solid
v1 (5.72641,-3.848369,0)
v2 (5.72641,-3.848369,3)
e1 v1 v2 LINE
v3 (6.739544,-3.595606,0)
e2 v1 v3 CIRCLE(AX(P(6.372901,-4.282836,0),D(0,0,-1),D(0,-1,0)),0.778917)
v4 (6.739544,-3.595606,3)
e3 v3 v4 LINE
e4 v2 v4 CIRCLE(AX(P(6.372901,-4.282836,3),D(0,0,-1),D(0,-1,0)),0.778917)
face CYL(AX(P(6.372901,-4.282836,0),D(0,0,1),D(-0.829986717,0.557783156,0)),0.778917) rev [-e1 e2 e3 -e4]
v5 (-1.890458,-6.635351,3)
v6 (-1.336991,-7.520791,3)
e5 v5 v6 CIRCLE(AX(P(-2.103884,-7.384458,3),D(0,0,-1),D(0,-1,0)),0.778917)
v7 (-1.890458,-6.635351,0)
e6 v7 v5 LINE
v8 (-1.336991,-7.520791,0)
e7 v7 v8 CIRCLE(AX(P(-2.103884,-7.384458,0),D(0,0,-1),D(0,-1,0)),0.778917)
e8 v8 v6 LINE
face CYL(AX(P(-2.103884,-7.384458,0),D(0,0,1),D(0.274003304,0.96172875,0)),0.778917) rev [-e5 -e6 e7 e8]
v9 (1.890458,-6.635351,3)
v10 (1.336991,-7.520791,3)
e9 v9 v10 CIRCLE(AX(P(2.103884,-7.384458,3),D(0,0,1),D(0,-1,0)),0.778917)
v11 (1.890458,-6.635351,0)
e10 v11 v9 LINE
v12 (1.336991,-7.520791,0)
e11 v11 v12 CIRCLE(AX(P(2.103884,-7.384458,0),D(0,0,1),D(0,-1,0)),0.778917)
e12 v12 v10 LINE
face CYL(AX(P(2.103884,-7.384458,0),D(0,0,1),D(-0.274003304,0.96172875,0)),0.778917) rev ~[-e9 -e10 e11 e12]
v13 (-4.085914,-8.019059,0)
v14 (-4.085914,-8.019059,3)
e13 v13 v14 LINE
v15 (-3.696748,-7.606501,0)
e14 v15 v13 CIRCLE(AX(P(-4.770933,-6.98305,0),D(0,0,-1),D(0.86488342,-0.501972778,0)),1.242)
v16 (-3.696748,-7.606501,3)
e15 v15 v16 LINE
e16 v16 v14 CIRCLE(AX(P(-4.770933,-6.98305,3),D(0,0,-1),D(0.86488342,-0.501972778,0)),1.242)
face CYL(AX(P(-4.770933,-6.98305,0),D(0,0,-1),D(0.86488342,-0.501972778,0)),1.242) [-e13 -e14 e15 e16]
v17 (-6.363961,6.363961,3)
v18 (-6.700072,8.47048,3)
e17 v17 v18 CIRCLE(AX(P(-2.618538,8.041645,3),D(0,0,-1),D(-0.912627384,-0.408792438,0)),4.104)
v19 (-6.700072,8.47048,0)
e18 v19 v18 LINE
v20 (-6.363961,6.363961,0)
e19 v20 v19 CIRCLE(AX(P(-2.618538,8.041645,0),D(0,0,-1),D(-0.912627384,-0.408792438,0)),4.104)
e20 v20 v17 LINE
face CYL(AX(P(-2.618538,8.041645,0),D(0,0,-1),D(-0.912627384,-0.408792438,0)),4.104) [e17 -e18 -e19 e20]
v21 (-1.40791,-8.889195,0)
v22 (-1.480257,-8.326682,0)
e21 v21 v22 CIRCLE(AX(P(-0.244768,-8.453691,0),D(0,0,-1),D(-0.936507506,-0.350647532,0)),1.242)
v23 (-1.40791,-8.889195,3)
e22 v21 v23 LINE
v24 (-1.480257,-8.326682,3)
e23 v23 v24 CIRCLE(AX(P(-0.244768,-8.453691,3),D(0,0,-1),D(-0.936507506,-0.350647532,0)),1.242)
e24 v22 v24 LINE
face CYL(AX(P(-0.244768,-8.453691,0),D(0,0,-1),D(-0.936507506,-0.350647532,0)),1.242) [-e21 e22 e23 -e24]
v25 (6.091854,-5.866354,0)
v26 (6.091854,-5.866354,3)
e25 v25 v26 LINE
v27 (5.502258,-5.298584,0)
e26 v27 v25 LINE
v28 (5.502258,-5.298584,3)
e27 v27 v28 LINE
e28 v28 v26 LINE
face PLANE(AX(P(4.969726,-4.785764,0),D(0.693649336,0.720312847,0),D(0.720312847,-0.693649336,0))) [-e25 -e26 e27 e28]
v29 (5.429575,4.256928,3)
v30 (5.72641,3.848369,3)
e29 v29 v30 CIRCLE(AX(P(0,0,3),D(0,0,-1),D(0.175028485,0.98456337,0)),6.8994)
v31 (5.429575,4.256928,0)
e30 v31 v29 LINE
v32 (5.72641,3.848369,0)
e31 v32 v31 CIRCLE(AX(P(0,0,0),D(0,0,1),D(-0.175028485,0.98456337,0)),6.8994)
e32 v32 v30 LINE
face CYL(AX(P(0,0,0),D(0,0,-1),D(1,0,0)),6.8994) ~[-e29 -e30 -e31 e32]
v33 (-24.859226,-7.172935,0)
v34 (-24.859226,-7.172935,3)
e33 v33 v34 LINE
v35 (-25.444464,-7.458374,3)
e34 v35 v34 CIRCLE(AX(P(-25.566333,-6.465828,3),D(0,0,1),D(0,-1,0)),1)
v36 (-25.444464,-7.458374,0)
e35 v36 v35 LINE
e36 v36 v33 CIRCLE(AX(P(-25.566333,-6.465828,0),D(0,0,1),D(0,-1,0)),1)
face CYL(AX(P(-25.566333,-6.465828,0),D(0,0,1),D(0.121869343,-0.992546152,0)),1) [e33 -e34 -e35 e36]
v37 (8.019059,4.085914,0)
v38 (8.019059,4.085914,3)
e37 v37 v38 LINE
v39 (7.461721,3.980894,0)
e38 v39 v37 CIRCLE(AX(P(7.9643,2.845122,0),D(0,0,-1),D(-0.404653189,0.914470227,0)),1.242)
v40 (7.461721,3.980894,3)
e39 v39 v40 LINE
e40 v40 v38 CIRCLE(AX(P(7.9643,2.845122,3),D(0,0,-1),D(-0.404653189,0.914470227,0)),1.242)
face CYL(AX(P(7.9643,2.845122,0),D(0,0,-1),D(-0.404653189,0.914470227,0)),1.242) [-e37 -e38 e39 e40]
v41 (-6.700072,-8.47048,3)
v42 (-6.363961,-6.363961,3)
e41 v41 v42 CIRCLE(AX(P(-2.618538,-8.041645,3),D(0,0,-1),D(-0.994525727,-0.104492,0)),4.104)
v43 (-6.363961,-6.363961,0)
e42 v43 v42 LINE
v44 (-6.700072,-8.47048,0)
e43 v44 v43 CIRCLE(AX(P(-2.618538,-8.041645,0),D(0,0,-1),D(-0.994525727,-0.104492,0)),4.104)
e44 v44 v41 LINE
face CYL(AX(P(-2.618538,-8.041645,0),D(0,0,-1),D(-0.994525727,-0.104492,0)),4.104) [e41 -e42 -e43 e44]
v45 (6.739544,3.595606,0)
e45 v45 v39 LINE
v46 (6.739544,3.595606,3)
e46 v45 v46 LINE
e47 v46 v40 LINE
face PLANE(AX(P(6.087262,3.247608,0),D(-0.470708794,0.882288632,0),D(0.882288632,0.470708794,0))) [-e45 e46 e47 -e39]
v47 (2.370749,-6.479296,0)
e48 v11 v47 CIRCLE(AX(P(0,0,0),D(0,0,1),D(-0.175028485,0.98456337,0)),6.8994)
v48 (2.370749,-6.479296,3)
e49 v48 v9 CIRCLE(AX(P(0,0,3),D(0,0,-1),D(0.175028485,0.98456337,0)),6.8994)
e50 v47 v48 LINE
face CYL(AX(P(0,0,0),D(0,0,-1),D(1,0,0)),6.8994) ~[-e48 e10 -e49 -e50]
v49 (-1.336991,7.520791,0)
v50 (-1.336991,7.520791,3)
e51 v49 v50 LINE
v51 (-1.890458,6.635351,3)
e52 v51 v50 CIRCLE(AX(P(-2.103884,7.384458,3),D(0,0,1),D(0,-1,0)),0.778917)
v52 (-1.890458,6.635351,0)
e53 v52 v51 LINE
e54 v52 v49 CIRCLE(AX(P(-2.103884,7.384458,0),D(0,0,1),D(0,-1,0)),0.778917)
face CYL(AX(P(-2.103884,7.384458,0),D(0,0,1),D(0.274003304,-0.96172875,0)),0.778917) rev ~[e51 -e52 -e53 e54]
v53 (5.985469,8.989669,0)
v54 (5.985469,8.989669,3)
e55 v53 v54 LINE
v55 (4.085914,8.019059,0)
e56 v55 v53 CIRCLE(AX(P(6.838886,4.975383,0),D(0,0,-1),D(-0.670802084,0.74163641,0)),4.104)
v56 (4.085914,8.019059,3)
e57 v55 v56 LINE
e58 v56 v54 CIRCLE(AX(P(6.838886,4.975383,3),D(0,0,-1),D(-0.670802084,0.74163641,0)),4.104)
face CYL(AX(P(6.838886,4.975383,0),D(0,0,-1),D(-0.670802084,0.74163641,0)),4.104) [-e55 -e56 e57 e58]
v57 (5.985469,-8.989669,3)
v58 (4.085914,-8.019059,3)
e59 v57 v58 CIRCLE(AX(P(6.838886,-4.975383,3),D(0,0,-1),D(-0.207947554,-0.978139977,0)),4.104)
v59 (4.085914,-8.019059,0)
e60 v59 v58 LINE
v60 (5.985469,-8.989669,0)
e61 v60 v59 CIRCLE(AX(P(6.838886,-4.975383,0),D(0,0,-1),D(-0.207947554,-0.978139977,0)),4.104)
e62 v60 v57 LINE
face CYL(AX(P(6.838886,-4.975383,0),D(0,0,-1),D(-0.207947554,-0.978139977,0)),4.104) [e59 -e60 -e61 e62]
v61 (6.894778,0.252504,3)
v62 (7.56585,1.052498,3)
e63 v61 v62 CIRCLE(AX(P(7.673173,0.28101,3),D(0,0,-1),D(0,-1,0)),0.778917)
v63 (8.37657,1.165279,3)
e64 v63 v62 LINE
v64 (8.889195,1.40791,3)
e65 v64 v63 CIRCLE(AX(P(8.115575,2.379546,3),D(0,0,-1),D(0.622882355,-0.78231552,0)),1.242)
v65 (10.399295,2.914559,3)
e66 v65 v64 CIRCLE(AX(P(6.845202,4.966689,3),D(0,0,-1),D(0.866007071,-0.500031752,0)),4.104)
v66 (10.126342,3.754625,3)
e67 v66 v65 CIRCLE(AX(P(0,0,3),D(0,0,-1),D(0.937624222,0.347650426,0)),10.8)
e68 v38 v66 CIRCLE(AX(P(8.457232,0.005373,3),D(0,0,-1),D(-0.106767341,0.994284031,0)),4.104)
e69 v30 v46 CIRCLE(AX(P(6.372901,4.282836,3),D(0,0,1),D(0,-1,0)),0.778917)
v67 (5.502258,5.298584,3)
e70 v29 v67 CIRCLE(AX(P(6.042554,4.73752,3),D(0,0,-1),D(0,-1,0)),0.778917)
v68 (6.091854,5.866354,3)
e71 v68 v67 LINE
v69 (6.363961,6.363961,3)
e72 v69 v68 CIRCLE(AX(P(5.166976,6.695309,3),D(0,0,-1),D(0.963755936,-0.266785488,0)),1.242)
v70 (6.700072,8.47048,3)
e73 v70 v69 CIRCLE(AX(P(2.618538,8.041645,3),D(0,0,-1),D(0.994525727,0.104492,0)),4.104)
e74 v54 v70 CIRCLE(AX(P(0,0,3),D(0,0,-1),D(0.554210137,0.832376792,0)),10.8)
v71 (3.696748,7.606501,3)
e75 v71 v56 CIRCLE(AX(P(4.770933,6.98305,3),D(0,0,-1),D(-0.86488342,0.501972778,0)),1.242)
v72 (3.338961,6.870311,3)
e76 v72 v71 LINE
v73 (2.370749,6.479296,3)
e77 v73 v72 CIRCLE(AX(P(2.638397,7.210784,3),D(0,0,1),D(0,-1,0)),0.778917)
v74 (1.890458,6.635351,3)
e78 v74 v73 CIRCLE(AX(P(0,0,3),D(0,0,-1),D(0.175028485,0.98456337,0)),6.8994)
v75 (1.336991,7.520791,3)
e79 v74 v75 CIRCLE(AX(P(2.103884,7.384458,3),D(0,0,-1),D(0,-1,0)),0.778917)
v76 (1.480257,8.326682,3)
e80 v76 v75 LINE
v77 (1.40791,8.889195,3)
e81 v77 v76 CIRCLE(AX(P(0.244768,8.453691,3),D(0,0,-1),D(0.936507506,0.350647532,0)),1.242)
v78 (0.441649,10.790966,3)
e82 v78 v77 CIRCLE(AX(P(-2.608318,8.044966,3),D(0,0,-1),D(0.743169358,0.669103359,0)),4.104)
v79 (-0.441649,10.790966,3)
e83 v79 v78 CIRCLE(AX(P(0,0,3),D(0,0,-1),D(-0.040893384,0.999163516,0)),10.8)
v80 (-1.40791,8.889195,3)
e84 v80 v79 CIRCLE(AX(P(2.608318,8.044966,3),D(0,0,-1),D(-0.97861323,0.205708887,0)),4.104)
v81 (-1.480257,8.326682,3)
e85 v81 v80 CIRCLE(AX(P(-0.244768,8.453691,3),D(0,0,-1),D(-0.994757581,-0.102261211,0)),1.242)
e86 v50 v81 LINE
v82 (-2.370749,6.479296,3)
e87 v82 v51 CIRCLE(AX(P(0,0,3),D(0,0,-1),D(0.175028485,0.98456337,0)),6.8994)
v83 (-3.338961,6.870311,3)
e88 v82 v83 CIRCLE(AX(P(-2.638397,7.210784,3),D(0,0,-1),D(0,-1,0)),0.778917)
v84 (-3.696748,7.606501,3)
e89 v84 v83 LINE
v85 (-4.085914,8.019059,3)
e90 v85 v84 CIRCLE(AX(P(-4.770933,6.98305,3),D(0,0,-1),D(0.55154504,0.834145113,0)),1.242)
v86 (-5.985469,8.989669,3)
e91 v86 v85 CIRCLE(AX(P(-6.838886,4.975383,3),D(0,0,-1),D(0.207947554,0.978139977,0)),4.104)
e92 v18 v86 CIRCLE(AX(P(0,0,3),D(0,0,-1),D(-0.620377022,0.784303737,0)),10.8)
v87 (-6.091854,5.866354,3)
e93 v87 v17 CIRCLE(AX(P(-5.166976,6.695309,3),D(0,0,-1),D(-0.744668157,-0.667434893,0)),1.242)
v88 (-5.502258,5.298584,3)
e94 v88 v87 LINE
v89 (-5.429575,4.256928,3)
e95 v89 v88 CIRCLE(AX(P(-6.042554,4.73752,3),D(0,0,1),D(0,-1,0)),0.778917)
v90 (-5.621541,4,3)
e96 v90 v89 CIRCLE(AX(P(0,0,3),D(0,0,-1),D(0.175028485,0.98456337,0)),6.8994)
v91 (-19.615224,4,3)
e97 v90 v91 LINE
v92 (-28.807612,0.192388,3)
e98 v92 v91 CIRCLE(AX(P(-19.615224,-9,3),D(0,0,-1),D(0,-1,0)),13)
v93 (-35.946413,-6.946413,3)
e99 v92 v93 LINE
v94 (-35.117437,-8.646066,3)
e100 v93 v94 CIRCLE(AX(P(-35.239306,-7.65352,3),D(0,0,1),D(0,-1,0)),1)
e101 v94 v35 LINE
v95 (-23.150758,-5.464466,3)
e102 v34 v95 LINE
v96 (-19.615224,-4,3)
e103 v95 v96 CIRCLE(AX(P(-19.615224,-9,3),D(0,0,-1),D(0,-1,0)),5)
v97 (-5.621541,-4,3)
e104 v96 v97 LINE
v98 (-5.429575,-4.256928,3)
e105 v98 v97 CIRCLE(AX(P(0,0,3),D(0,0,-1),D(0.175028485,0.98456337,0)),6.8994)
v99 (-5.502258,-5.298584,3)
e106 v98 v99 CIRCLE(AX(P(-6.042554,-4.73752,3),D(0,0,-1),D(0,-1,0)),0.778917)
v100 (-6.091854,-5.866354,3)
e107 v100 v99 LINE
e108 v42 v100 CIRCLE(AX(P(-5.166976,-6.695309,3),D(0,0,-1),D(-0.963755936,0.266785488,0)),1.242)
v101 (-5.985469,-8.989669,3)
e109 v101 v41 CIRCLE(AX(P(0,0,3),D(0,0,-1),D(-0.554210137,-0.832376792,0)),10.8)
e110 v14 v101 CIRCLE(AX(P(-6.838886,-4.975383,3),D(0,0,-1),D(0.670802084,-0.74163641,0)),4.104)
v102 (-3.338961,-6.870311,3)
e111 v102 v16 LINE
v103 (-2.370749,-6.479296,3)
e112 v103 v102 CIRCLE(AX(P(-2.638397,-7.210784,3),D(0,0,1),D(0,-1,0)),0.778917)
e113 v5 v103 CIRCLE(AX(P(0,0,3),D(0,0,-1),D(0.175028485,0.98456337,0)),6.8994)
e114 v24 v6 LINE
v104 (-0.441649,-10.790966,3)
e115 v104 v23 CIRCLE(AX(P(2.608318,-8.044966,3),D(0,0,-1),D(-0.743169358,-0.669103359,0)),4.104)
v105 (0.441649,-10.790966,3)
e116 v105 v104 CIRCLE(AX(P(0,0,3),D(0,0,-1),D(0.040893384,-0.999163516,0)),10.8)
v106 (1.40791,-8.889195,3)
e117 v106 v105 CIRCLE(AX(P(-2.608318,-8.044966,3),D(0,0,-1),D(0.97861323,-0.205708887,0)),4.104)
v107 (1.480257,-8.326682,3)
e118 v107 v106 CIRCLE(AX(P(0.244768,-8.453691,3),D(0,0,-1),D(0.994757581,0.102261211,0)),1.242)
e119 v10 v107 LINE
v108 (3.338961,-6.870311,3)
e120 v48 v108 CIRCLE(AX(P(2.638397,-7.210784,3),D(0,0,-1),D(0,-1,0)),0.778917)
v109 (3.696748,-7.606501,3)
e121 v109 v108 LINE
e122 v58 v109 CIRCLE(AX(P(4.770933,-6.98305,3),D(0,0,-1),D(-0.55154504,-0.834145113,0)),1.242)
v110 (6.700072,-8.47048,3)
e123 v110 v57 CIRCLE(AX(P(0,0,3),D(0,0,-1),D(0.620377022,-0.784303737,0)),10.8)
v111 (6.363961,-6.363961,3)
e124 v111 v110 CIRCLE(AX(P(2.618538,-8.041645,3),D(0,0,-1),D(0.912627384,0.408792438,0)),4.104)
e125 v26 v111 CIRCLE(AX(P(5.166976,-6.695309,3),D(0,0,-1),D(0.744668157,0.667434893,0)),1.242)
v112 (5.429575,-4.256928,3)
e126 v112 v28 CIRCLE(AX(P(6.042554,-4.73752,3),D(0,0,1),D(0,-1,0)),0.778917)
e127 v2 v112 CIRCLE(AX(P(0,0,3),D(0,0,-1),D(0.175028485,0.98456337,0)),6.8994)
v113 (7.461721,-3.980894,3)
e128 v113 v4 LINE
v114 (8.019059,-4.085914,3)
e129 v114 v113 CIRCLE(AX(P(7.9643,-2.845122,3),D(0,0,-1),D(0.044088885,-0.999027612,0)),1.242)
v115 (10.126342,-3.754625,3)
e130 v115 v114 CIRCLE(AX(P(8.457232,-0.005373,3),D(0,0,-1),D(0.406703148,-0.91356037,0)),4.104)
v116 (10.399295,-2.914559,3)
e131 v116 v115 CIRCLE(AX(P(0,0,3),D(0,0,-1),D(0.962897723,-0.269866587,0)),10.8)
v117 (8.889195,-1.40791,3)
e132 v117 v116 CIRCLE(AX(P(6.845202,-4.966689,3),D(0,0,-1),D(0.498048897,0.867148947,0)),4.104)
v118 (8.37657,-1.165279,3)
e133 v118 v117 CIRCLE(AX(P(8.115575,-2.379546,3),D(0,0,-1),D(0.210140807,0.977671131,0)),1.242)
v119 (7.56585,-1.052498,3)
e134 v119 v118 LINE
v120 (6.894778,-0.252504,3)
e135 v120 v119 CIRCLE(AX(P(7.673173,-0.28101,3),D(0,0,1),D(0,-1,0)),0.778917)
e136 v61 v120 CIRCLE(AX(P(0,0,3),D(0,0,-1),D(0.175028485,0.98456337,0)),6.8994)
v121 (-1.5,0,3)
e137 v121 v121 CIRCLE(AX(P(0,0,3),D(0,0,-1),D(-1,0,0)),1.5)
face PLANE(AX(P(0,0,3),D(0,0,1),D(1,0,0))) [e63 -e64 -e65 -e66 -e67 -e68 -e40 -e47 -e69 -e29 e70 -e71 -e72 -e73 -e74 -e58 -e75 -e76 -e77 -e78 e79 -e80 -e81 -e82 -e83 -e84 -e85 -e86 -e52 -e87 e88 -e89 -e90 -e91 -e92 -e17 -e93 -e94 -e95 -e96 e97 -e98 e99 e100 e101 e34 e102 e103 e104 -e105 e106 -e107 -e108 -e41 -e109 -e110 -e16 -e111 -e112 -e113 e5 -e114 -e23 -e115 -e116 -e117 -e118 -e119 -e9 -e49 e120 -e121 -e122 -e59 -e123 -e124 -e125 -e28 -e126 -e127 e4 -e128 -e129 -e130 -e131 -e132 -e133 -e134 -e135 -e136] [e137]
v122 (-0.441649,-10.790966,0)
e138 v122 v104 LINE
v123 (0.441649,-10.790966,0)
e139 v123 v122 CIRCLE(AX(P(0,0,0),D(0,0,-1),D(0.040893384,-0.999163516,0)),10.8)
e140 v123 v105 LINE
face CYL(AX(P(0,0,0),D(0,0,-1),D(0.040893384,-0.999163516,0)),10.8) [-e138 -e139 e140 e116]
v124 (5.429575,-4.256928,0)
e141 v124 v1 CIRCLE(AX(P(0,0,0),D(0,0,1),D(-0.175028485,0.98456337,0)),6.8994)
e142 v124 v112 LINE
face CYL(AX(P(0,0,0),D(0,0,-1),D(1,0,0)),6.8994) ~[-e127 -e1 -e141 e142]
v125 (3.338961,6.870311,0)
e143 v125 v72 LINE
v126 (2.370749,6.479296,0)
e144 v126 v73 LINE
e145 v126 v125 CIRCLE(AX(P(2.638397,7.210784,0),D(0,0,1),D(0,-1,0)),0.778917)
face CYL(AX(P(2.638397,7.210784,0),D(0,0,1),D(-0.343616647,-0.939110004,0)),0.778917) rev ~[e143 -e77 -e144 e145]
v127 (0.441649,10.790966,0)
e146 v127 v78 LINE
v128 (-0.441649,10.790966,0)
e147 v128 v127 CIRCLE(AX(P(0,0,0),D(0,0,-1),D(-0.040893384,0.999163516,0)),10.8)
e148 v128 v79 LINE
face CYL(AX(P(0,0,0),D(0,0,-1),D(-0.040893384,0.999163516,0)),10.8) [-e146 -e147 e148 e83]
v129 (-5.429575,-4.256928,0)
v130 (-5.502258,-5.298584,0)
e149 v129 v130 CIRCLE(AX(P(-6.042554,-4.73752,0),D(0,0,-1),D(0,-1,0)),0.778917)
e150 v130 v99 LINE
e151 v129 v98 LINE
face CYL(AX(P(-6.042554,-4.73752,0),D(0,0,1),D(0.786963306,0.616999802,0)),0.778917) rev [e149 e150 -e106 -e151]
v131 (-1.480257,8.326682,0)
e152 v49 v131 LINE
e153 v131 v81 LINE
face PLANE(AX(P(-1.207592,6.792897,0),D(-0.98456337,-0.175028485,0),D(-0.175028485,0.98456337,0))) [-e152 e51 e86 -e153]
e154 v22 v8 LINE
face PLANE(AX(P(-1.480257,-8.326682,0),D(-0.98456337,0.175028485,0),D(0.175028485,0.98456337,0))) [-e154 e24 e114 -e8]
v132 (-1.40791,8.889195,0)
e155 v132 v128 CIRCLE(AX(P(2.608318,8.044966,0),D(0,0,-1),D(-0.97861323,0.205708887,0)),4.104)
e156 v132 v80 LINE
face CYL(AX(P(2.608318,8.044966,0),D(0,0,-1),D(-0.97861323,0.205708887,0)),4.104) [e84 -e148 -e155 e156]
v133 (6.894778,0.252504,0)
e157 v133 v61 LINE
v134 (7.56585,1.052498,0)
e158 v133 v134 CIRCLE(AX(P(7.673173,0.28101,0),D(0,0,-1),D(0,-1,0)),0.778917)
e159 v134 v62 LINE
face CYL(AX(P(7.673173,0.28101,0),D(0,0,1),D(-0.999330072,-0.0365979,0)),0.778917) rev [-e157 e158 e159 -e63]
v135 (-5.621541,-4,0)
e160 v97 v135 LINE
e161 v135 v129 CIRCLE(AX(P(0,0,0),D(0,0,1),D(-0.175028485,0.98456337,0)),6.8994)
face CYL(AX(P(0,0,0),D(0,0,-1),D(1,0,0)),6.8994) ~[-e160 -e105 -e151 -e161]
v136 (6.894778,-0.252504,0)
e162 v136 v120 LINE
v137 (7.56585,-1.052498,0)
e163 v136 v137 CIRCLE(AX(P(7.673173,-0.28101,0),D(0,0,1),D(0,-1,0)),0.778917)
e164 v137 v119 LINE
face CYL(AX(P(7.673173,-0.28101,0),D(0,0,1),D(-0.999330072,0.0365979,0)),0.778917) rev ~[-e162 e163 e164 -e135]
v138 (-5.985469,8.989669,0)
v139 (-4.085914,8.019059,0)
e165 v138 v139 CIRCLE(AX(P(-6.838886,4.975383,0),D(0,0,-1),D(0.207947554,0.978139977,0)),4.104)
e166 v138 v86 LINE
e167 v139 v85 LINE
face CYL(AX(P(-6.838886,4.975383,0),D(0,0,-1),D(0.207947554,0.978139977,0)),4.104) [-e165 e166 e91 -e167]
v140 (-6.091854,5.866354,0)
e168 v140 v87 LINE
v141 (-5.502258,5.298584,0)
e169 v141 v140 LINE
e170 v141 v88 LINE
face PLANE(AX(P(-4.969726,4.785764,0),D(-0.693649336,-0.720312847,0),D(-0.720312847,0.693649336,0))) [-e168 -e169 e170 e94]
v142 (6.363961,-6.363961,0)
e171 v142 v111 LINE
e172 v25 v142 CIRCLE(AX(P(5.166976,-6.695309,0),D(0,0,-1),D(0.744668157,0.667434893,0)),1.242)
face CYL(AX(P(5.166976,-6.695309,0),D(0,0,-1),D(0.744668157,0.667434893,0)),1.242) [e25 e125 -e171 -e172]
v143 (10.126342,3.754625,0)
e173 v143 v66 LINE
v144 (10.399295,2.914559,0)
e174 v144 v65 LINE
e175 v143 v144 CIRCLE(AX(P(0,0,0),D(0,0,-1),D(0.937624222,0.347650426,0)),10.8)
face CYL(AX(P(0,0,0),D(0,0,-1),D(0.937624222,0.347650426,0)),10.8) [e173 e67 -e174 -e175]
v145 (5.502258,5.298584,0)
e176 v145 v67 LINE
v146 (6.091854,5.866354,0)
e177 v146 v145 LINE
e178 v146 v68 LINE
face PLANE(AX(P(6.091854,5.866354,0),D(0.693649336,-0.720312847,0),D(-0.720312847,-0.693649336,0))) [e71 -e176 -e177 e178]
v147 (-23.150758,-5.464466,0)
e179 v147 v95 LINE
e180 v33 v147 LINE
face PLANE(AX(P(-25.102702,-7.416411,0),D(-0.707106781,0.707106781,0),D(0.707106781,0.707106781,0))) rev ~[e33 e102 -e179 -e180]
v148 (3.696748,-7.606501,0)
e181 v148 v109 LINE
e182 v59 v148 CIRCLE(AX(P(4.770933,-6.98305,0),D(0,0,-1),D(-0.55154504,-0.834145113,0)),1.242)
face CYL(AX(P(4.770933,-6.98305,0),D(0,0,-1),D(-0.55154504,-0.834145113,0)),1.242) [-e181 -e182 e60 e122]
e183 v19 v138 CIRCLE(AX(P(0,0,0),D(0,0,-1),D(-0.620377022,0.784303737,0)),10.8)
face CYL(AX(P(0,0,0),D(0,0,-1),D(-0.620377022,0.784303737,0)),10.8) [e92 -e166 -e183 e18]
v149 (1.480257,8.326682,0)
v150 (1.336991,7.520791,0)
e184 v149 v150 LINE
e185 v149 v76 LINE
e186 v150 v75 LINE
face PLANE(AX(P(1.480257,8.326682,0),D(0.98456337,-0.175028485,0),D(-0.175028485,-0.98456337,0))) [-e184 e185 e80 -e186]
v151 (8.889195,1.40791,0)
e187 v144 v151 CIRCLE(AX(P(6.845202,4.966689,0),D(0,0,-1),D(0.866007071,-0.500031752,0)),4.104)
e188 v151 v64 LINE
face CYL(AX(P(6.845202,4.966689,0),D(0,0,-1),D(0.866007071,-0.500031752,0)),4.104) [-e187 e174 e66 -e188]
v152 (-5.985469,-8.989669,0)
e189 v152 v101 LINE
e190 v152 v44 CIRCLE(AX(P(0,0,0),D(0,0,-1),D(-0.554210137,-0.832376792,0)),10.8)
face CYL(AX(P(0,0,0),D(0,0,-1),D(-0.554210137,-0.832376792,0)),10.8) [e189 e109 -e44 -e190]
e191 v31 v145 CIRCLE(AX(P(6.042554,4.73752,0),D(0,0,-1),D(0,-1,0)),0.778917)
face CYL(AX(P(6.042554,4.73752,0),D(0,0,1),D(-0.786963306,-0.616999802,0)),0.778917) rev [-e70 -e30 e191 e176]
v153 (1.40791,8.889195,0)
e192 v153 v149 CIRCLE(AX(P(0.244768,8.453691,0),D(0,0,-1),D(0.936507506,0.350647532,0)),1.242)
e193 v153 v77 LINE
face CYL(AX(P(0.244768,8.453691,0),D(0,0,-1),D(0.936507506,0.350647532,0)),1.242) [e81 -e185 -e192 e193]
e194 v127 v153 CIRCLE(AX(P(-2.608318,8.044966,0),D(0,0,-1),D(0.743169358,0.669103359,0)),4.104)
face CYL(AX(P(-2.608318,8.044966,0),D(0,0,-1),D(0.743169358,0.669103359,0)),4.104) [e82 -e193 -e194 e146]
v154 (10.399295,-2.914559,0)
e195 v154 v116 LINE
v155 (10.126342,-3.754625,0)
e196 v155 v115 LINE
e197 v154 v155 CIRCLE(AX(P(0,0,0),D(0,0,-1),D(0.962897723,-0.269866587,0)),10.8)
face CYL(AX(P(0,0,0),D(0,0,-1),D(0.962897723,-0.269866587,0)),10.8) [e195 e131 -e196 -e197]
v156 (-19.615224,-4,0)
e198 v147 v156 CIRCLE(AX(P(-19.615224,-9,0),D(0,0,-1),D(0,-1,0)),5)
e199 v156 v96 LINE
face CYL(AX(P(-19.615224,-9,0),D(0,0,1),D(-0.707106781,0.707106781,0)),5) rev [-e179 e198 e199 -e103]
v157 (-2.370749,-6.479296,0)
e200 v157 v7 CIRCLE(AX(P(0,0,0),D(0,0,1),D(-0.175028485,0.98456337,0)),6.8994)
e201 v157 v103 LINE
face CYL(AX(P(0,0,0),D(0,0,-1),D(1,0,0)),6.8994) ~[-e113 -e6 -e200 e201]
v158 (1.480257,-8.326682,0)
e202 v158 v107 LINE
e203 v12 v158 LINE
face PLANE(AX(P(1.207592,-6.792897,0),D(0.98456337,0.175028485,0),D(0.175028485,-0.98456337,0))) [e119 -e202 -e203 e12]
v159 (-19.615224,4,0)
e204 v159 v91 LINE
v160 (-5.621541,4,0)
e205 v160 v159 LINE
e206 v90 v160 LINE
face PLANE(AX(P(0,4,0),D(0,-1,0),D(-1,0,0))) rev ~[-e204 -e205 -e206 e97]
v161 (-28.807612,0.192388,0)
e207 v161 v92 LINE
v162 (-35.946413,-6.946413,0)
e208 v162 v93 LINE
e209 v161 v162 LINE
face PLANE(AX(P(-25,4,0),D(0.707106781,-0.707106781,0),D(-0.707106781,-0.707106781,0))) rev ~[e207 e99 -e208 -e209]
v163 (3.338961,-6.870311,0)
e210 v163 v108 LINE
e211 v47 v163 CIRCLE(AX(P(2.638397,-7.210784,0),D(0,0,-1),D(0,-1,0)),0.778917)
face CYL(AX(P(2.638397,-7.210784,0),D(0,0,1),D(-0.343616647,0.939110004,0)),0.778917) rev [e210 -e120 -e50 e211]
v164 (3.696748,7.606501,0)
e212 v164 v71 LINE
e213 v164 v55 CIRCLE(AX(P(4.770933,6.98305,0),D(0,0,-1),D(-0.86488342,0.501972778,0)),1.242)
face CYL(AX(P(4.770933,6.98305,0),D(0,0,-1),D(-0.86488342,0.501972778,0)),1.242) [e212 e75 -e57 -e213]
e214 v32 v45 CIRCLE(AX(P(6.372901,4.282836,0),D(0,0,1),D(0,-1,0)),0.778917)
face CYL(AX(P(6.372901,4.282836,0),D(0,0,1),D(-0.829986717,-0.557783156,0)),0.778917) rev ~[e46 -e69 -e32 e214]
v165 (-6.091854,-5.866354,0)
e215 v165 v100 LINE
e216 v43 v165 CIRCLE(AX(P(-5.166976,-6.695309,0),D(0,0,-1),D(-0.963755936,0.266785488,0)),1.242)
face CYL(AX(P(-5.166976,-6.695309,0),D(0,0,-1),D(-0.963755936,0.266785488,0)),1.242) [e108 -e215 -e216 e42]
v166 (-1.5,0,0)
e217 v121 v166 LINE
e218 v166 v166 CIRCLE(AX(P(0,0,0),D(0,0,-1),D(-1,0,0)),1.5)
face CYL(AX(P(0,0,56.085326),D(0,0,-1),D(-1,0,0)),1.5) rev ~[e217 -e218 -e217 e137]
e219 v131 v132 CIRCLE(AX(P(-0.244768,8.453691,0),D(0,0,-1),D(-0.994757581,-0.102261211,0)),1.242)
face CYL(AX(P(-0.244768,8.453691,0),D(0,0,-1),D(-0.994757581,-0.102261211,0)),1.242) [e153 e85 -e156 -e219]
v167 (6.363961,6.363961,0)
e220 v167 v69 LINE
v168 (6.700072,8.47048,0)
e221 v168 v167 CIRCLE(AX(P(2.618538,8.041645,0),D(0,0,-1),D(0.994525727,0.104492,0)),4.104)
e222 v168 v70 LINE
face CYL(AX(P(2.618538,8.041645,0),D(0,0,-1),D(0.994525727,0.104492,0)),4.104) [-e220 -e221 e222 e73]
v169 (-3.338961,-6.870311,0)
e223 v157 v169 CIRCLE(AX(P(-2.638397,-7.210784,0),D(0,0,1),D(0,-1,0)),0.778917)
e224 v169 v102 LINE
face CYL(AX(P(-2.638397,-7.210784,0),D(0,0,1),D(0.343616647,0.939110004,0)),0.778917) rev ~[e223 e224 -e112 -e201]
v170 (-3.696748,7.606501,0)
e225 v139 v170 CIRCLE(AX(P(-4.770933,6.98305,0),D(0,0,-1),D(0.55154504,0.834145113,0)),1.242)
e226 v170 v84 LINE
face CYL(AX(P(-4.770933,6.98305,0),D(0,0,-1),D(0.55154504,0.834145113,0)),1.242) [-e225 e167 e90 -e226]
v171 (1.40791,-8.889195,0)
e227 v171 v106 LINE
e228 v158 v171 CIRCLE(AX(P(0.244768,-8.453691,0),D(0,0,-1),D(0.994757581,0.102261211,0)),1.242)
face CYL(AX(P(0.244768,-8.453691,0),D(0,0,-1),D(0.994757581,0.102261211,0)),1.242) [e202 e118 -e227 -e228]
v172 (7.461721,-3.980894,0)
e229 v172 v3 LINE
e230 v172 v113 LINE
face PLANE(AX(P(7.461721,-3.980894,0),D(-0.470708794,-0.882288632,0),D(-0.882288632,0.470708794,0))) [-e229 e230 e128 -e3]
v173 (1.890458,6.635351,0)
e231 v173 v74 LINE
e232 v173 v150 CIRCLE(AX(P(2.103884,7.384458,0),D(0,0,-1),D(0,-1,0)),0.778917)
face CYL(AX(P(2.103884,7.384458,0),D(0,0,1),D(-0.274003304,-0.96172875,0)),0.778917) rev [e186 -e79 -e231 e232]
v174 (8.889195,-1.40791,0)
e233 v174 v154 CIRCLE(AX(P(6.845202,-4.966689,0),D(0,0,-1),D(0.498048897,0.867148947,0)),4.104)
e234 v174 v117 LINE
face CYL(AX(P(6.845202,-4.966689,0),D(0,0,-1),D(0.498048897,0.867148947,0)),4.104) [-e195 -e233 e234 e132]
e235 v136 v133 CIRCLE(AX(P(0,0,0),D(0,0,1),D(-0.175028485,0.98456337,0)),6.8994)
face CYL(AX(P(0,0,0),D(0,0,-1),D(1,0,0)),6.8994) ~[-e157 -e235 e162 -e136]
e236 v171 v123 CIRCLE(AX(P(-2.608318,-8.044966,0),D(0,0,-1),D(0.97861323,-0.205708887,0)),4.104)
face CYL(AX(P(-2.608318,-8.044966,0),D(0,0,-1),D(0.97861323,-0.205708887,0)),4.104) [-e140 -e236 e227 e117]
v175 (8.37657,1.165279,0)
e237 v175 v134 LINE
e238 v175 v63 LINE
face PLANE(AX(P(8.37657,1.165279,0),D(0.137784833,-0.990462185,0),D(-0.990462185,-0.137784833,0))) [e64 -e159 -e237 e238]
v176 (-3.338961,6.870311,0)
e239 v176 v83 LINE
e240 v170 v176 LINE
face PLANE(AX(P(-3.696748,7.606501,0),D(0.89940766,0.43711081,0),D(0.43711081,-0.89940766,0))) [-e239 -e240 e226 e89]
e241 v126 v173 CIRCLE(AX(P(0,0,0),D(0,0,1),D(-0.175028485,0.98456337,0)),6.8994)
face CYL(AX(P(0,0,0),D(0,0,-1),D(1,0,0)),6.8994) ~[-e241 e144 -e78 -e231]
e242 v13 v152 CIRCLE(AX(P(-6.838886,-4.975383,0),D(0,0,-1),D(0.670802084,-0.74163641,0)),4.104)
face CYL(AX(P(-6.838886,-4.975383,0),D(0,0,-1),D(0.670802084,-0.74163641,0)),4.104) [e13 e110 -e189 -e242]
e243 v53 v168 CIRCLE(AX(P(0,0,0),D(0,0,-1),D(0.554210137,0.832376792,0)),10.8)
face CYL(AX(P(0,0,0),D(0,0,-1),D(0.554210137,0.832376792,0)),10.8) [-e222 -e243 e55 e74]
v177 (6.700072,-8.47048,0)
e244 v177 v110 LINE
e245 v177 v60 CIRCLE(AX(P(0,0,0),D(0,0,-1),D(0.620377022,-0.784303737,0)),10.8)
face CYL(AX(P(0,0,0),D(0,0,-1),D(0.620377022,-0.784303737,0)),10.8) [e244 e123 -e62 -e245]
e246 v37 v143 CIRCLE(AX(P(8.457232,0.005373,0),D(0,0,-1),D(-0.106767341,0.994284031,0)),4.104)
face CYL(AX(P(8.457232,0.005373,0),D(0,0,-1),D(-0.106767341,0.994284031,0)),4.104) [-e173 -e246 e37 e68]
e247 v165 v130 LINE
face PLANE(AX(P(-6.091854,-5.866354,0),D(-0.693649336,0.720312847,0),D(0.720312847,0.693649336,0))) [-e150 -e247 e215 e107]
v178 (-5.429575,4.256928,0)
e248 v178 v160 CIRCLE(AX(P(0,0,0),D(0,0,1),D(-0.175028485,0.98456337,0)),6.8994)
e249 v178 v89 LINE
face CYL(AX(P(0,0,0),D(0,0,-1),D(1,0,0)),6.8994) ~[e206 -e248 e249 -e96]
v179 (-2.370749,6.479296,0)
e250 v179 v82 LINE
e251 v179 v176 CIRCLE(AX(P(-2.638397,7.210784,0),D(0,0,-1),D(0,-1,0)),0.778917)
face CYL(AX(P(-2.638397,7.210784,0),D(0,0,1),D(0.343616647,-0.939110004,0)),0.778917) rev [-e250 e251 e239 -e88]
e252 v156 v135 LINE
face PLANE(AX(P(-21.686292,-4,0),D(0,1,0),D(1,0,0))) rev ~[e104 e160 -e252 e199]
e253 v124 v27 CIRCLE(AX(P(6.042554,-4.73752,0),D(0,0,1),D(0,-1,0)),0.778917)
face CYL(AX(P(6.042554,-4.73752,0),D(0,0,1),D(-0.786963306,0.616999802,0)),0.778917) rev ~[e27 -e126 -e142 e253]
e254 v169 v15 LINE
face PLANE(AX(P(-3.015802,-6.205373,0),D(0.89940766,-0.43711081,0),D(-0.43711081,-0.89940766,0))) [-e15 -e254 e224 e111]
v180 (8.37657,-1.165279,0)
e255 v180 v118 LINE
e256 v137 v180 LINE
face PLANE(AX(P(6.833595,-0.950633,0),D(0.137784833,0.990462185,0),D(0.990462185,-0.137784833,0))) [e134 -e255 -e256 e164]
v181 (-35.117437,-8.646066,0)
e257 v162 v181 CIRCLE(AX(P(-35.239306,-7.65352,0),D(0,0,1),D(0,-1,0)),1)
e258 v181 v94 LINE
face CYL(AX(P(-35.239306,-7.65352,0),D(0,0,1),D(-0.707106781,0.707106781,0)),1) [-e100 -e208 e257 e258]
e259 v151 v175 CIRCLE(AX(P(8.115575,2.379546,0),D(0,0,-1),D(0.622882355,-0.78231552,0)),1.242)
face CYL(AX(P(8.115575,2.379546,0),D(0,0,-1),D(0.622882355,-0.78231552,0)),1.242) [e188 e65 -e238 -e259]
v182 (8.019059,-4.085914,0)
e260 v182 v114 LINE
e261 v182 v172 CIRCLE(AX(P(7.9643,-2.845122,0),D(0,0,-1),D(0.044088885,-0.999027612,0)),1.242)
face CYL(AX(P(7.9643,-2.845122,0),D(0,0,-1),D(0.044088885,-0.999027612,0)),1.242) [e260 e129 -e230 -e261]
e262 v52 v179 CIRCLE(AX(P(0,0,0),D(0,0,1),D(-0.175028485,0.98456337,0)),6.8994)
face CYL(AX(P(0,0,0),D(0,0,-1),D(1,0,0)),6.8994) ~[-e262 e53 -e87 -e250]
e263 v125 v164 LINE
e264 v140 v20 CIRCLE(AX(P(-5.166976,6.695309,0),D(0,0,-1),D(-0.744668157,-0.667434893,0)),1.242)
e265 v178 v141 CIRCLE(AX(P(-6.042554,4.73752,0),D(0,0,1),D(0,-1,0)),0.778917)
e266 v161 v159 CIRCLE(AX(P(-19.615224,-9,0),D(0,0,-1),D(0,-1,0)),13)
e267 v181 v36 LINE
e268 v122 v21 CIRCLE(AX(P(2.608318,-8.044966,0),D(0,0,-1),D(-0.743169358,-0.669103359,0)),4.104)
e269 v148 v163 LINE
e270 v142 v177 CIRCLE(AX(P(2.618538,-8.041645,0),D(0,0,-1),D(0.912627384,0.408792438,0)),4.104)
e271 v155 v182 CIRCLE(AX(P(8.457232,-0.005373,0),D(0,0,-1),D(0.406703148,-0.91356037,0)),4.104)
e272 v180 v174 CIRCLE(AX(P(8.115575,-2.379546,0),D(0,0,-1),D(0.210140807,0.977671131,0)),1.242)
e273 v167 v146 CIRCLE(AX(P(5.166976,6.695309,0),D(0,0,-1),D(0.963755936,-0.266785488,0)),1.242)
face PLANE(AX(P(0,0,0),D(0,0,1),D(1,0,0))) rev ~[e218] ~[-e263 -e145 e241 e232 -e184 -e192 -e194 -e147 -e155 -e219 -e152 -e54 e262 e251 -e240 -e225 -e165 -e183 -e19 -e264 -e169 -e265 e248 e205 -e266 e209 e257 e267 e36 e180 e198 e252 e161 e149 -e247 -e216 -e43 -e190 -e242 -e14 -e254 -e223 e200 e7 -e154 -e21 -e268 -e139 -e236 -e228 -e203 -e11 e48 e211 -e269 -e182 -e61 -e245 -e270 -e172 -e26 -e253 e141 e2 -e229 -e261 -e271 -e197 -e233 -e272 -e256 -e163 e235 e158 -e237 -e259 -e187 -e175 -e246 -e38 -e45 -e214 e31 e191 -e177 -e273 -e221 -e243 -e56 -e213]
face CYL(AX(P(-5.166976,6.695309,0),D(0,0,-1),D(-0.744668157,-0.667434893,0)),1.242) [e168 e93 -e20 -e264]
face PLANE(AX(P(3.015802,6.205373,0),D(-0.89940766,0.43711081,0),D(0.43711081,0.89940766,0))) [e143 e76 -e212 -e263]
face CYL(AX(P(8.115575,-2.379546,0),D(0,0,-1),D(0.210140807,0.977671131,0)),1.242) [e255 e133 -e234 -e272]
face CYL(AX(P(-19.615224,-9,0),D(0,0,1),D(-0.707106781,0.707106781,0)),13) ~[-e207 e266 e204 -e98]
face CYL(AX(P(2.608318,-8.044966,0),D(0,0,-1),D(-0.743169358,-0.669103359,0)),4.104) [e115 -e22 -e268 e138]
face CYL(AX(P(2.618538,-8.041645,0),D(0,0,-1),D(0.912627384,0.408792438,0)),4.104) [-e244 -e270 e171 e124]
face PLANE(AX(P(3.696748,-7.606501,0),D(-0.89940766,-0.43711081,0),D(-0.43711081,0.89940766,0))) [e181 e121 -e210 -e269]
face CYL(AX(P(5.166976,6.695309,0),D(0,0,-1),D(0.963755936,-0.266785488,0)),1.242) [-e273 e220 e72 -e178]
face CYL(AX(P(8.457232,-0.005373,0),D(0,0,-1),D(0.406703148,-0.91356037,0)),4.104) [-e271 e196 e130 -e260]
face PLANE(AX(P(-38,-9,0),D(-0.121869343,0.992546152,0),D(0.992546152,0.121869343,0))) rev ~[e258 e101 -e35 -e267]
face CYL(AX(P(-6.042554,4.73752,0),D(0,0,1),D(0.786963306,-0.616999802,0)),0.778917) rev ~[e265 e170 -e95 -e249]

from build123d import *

# Parameters (mm, degrees)
POSICIONAMENTOS_R               = 6.8994
BASE_DEPTH                      = 3
BASE_DENTE_DEPTH                = 3
RAIO_DENTE_R                    = 0.778916794
PADR_OCIRCULAR1_COUNT           = 10
RAIO_DENTE_OF_PADR_OCIRCULAR1_R = 0.778916794
RESSALTO_EXTRUS_O3_DEPTH        = 3
FURO_DE_DI_METRO_3_0_3_1_D      = 3
FILETE2_R                       = 5
FILETE3_R                       = 13
FILETE4_R                       = 1


with BuildPart() as part:
    # Posicionamentos → Base (new body)
    with BuildSketch(Plane.XY):
        Circle(POSICIONAMENTOS_R)
    extrude(amount=BASE_DEPTH)

    # Dente → Base Dente (add, through all)
    with BuildSketch(Plane.XY):
        with BuildLine():
            Line((1.480256779, 8.326682401), (1.207591527, 6.792896515))
            ThreePointArc((1.207591527, 6.792896515), (0, 6.8994), (-1.207591527, 6.792896515))
            Line((-1.207591527, 6.792896515), (-1.480256779, 8.326682401))
            ThreePointArc((-1.480256779, 8.326682401), (-1.476621376, 8.612123538), (-1.407910185, 8.889195065))
            ThreePointArc((-1.407910185, 8.889195065), (-1.05050148, 9.903958065), (-0.441648539, 10.79096597))
            ThreePointArc((-0.441648539, 10.79096597), (0, 10.8), (0.441648539, 10.79096597))
            ThreePointArc((0.441648539, 10.79096597), (1.05050148, 9.903958065), (1.407910185, 8.889195065))
            ThreePointArc((1.407910185, 8.889195065), (1.476621376, 8.612123538), (1.480256779, 8.326682401))
        make_face()
    base_dente = extrude(amount=BASE_DENTE_DEPTH)

    # Raio Dente
    raio_dente_edges = [part.edges().sort_by_distance(p)[0] for p in [
        (-1.207591527, 6.792896515, 1.5),
        (1.207591527, 6.792896515, 1.5),
    ]]
    fillet(raio_dente_edges, radius=RAIO_DENTE_R)

    # PadrãoCircular1: Base Dente ×10 about axis, 2 skipped
    padr_ocircular1_axis = Axis((0, 0, 0), (0, 0, -1))
    add([base_dente.rotate(padr_ocircular1_axis, i * 360 / PADR_OCIRCULAR1_COUNT) for i in range(1, PADR_OCIRCULAR1_COUNT) if i not in (7, 8)])

    # Raio Dente of PadrãoCircular1
    raio_dente_of_padr_ocircular1_edges = [part.edges().sort_by_distance(p)[0] for p in [
        (3.015802325, 6.205373212, 1.5),
        (4.969726459, 4.785764232, 1.5),
        (6.087262191, 3.247608255, 1.5),
        (6.833594799, 0.950632674, 1.5),
        (6.833594799, -0.950632674, 1.5),
        (6.087262191, -3.247608255, 1.5),
        (4.969726459, -4.785764232, 1.5),
        (3.015802325, -6.205373212, 1.5),
        (1.207591527, -6.792896515, 1.5),
        (-1.207591527, -6.792896515, 1.5),
        (-3.015802325, -6.205373212, 1.5),
        (-4.969726459, -4.785764232, 1.5),
        (-4.969726459, 4.785764232, 1.5),
        (-3.015802325, 6.205373212, 1.5),
    ]]
    fillet(raio_dente_of_padr_ocircular1_edges, radius=RAIO_DENTE_OF_PADR_OCIRCULAR1_R)

    # Braço → Ressalto-extrusão3 (add, through all)
    with BuildSketch(Plane.XY):
        Polygon((0, 4), (-25, 4), (-38, -9), (-25.102702489, -7.416410988), (-21.686291501, -4), (0, -4), align=None)
    extrude(amount=RESSALTO_EXTRUS_O3_DEPTH)

    # Furo de diâmetro Ø3.0 (3)1 (through all)
    with Locations(Plane.XY.offset(3)):
        with Locations((0, 0)):
            Hole(FURO_DE_DI_METRO_3_0_3_1_D / 2)

    # Filete2
    filete2_edges = [part.edges().sort_by_distance(p)[0] for p in [
        (-21.686291501, -4, 1.5),
    ]]
    fillet(filete2_edges, radius=FILETE2_R)

    # Filete3
    filete3_edges = [part.edges().sort_by_distance(p)[0] for p in [
        (-25, 4, 1.5),
    ]]
    fillet(filete3_edges, radius=FILETE3_R)

    # Filete4
    filete4_edges = [part.edges().sort_by_distance(p)[0] for p in [
        (-25.102702489, -7.416410988, 1.5),
        (-38, -9, 1.5),
    ]]
    fillet(filete4_edges, radius=FILETE4_R)


solid = part.part
